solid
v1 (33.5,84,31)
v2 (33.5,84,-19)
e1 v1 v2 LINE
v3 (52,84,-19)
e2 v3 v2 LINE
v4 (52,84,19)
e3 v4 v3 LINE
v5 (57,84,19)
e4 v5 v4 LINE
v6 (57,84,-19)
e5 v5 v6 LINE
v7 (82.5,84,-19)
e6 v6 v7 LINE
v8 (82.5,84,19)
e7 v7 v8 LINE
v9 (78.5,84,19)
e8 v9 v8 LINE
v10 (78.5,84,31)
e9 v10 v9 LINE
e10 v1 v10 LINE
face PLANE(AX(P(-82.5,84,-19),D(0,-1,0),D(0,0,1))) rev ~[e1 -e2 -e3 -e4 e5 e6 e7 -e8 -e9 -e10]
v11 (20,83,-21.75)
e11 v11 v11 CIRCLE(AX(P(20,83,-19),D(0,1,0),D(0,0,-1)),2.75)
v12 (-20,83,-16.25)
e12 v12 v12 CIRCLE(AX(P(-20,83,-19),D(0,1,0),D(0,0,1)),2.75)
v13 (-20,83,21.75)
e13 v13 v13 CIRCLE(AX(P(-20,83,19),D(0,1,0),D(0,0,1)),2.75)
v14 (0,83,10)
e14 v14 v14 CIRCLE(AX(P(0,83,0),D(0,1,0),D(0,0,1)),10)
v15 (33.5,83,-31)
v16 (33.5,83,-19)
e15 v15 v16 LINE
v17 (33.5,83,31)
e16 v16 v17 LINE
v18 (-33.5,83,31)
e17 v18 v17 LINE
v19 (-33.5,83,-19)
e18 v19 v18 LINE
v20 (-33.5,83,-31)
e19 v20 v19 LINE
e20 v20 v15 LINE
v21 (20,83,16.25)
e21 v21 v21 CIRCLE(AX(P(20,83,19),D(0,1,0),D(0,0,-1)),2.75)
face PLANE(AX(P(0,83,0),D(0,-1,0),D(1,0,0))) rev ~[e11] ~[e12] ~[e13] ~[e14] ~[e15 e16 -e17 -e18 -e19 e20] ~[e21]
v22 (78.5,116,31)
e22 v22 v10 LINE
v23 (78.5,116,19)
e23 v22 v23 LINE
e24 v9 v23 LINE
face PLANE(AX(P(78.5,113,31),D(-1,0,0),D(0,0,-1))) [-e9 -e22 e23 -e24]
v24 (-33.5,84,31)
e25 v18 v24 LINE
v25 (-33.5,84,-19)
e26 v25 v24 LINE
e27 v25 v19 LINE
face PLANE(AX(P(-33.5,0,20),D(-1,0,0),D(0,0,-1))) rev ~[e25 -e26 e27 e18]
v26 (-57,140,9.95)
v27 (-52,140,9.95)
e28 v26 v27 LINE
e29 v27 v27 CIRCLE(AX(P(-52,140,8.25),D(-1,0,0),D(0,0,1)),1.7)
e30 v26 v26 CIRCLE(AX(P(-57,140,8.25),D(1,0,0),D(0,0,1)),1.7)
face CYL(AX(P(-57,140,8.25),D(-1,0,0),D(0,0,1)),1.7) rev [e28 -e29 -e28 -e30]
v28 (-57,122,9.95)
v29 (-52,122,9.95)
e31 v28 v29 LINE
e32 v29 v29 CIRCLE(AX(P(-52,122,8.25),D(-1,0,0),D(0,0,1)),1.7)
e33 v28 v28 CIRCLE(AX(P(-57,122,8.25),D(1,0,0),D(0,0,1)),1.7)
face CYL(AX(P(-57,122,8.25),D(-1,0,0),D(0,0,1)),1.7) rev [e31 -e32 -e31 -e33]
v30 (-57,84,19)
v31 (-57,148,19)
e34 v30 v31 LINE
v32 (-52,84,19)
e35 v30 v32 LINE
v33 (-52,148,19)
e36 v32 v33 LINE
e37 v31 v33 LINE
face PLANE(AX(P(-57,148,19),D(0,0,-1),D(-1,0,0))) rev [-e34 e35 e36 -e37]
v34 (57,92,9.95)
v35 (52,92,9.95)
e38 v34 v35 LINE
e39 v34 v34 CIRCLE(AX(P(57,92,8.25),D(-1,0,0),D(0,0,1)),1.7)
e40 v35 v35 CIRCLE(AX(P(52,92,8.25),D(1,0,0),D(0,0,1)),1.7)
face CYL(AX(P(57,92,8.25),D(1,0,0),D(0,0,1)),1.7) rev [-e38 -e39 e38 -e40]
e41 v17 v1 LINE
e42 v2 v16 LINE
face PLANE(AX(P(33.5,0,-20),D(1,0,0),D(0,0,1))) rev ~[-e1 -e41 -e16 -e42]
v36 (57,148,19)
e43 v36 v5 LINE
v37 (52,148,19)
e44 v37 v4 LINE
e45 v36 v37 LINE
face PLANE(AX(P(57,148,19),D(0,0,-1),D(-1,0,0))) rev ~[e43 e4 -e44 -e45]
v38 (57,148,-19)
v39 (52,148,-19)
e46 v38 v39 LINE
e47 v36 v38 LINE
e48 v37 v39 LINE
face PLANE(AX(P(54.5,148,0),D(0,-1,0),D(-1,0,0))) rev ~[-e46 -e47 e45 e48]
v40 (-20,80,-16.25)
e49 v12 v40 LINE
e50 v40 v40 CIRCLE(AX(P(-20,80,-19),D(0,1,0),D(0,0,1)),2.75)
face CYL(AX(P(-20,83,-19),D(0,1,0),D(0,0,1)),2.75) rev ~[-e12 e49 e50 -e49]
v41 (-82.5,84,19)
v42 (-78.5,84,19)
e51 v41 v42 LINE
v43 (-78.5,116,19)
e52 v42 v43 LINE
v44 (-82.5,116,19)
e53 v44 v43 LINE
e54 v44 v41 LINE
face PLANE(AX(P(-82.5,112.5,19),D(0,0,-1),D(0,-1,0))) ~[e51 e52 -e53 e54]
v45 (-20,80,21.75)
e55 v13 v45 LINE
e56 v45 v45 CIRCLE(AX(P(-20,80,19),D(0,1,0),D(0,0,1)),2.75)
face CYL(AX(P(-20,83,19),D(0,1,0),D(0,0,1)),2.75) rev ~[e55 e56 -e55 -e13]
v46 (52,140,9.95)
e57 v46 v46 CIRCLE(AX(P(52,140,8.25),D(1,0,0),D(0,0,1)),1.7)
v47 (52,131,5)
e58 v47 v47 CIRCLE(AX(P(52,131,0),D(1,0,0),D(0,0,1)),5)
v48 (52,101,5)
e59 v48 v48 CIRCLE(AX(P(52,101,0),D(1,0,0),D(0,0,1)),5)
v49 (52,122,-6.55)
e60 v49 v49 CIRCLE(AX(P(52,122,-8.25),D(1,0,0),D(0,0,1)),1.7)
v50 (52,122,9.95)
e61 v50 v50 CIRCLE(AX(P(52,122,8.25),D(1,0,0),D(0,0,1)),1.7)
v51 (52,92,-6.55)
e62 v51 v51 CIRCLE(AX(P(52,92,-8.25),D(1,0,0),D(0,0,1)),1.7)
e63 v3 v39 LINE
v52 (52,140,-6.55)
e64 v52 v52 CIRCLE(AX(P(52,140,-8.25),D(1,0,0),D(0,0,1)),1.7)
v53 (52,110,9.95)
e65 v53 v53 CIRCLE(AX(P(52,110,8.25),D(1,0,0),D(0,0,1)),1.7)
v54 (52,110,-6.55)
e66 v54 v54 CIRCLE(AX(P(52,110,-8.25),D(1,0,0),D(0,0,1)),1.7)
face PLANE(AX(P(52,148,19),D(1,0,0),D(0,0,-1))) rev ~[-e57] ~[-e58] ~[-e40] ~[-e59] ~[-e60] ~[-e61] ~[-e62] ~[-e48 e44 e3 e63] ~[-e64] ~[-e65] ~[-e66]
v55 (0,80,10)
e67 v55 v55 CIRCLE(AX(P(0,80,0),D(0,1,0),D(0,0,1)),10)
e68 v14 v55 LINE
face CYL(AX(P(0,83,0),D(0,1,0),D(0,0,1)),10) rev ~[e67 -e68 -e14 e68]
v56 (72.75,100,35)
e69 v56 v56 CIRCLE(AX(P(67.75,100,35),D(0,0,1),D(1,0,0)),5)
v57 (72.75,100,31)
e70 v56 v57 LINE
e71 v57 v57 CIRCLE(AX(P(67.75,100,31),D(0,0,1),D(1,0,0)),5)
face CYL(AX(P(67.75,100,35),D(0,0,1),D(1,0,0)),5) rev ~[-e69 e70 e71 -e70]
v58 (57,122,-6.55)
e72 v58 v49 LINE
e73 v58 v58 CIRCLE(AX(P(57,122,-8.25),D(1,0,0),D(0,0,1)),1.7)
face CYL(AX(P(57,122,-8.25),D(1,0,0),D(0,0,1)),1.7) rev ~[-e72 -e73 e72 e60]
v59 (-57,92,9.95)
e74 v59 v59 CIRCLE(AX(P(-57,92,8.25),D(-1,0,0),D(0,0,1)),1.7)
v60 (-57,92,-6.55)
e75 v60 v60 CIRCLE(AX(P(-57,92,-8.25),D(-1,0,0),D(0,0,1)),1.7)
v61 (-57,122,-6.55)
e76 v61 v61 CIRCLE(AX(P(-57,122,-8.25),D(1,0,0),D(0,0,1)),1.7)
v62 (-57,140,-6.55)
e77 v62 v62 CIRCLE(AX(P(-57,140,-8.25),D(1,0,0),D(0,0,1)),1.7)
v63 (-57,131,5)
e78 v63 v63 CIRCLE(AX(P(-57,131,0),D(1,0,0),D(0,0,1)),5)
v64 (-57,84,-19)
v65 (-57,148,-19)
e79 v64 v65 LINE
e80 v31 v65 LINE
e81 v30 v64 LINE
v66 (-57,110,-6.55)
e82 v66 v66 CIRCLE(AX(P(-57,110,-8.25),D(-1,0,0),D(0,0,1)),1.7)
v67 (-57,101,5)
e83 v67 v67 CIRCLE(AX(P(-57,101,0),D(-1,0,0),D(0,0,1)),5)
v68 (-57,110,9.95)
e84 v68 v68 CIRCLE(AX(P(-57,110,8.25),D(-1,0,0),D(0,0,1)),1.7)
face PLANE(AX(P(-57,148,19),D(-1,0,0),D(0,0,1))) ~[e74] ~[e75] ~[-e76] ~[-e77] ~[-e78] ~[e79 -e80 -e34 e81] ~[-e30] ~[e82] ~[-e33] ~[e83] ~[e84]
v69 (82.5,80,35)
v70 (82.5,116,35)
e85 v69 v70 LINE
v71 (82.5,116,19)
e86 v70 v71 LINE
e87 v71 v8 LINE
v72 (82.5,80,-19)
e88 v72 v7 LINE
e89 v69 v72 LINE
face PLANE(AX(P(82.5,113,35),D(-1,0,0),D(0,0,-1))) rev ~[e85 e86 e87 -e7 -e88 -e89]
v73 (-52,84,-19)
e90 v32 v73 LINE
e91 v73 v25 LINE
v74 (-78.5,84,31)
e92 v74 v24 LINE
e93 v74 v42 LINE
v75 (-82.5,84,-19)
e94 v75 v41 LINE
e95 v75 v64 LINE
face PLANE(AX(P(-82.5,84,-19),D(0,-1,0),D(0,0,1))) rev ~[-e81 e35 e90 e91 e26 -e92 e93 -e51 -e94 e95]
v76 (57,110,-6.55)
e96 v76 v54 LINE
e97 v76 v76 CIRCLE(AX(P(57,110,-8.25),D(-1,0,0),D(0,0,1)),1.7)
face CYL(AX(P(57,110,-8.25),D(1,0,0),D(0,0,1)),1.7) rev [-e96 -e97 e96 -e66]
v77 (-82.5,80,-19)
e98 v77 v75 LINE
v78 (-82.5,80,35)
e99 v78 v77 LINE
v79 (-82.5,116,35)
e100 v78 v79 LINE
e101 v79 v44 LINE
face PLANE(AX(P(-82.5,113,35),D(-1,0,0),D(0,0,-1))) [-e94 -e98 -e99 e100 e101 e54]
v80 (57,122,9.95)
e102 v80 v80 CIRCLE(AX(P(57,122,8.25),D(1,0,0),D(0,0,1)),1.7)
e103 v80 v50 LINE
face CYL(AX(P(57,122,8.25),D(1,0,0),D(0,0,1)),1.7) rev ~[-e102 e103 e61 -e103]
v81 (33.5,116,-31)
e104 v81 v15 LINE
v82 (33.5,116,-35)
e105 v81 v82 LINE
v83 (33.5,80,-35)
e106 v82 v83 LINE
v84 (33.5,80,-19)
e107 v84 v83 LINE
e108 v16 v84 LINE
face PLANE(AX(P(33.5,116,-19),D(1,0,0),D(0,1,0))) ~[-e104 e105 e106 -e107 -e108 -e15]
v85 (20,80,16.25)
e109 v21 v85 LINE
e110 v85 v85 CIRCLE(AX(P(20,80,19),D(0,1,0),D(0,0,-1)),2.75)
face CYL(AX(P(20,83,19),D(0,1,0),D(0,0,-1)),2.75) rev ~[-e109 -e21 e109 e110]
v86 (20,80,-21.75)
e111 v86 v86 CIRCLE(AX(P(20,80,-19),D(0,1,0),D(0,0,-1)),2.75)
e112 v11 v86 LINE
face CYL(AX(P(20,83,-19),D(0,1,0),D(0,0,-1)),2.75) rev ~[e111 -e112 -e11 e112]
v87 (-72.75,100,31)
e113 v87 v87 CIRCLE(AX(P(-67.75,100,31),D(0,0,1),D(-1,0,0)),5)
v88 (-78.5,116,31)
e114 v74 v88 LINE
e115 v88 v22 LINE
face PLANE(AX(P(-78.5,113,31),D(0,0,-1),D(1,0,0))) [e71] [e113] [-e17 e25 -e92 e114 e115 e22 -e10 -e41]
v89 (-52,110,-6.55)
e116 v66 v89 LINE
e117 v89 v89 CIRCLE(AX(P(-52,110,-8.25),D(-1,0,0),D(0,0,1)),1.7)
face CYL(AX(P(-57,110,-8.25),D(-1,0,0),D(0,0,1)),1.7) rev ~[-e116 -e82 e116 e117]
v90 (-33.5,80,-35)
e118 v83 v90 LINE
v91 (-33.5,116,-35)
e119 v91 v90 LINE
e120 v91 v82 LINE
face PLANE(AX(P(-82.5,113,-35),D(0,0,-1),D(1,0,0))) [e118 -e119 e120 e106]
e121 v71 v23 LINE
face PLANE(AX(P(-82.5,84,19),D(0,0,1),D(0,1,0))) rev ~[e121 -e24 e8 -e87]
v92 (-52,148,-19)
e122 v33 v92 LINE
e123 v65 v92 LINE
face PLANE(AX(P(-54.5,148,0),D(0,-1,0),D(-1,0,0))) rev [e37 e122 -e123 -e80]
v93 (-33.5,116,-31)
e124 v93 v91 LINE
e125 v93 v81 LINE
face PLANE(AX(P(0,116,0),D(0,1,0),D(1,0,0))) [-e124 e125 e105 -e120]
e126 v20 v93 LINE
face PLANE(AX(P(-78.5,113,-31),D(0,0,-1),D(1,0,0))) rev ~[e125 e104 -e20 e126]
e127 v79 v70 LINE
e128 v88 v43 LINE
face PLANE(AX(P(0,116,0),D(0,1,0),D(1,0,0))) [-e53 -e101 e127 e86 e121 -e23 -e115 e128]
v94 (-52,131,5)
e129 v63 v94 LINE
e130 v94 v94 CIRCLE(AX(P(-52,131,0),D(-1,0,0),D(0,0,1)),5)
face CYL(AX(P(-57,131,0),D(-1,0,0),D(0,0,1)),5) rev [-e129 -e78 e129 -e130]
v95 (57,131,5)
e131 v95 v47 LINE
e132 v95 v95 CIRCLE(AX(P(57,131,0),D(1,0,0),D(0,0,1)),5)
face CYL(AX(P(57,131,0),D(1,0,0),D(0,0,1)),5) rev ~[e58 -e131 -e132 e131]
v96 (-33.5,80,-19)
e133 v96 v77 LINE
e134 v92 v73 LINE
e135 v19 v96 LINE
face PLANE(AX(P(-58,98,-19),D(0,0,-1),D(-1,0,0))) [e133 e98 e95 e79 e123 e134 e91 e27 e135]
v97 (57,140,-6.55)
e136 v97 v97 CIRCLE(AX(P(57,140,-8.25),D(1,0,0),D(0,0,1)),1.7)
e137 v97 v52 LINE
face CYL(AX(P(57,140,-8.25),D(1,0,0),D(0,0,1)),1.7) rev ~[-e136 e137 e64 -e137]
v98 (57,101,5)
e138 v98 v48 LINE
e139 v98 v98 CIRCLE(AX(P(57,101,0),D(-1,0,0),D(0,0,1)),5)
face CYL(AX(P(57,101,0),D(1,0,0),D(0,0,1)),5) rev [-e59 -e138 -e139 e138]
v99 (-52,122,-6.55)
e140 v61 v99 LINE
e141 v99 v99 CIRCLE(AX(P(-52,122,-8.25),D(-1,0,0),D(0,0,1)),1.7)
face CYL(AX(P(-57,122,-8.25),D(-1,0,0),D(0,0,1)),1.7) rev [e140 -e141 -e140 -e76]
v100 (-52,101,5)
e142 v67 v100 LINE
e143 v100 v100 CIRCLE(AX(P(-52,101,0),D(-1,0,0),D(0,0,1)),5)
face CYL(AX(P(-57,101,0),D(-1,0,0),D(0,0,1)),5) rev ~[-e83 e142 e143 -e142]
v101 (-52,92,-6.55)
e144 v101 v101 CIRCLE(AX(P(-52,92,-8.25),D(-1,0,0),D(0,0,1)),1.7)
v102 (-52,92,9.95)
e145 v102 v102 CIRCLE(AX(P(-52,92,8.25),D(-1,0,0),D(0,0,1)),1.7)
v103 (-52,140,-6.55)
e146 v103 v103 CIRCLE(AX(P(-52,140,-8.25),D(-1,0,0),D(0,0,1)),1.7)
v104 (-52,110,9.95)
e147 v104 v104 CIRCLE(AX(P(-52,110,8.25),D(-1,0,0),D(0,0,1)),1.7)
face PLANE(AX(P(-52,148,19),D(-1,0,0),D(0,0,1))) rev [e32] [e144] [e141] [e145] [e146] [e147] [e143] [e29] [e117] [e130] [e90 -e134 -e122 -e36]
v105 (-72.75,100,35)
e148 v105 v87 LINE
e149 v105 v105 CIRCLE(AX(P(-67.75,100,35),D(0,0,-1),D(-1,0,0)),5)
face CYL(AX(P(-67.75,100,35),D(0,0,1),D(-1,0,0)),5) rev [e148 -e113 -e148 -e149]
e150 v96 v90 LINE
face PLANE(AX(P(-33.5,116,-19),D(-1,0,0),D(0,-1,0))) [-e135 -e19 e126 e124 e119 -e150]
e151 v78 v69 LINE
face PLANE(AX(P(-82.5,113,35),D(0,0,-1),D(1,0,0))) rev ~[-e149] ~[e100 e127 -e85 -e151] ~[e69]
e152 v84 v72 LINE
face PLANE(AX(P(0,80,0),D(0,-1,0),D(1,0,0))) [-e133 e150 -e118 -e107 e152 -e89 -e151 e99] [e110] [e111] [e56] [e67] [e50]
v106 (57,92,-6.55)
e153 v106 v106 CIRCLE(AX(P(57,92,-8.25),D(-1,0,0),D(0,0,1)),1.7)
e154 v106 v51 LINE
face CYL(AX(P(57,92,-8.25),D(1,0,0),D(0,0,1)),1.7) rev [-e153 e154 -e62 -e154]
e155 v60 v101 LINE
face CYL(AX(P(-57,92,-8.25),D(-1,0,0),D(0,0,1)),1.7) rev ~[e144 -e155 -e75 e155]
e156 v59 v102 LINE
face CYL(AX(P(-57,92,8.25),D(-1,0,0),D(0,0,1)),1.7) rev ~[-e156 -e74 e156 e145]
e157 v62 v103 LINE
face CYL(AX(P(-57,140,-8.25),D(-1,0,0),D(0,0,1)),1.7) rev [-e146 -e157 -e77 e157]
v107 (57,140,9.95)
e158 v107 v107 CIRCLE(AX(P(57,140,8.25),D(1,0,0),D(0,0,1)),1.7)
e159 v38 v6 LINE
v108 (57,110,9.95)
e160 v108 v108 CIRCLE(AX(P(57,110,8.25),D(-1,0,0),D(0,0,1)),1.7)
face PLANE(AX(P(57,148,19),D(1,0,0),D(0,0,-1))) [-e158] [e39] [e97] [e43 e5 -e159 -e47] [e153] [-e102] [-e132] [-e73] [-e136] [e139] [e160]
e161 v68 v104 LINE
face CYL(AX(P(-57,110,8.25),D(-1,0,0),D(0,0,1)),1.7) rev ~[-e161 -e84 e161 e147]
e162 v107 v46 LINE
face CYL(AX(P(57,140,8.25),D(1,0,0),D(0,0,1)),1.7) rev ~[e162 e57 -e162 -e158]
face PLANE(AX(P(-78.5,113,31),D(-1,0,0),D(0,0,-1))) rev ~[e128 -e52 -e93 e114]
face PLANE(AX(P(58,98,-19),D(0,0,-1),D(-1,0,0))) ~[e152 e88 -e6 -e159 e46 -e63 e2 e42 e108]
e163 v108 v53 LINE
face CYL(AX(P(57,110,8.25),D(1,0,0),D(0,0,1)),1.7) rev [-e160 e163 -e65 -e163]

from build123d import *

# Parameters (mm, degrees)
SKETCH1_W                 = 75
SKETCH1_H                 = 40
SKETCH1_R                 = 5
SKETCH1_R_2               = 1.7
SKETCH1_W_2               = 10
SKETCH1_H_2               = 20
BOSS_EXTRUDE1_DEPTH       = 3
CUT_EXTRUDE1_DEPTH        = 43.605750786
CUT_EXTRUDE1_DEPTH_BACK   = 43.605750786
SKETCH2_W                 = 67
SKETCH2_H                 = 28
BOSS_EXTRUDE3_DEPTH       = 110
BOSS_EXTRUDE3_DEPTH_BACK  = 3
SKETCH6_W                 = 67
SKETCH6_H                 = 11
CUT_EXTRUDE4_DEPTH        = 122.372360939
SKETCH7_W                 = 70
SKETCH7_H                 = 37
BOSS_EXTRUDE4_DEPTH       = 45
SKETCH8_W                 = 45
SKETCH8_H                 = 62
CUT_EXTRUDE6_DEPTH        = 29
SKETCH11_W                = 45
SKETCH11_H                = 4
CUT_EXTRUDE9_DEPTH        = 157.445677473
SKETCH9_W                 = 38
SKETCH9_H                 = 28.5
CUT_EXTRUDE10_DEPTH       = 204.024629048
SKETCH13_W                = 5
SKETCH13_H                = 38
BOSS_EXTRUDE5_DEPTH       = 32
SKETCH14_R                = 5
SKETCH14_R_2              = 1.7
CUT_EXTRUDE11_DEPTH       = 32
SKETCH15_W                = 165
SKETCH15_H                = 70
SKETCH15_W_2              = 157
SKETCH15_H_2              = 62
BOSS_EXTRUDE6_DEPTH       = 3
SKETCH16_W                = 20
SKETCH16_H                = 4.820648258
CUT_EXTRUDE12_DEPTH       = 159.626132778
SKETCH18_R                = 5
CUT_EXTRUDE14_DEPTH       = 159.626132778
MIRROR6_COPY_1_SKETCH_W   = 5
MIRROR6_COPY_1_SKETCH_H   = 38
MIRROR6_COPY_1_DEPTH      = 32
MIRROR6_COPY_2_SKETCH_R   = 5
MIRROR6_COPY_2_SKETCH_R_2 = 1.7
MIRROR6_COPY_2_DEPTH      = 32
SKETCH19_W                = 38
SKETCH19_H                = 3.5
CUT_EXTRUDE15_DEPTH       = 10
SKETCH20_R                = 1.2
CUT_EXTRUDE16_DEPTH       = 10
SKETCH21_W                = 10
SKETCH21_H                = 80
CUT_EXTRUDE17_DEPTH       = 184.330984833
SKETCH22_W                = 55
SKETCH22_H                = 80
CUT_EXTRUDE18_DEPTH       = 184.330984833
SKETCH23_W                = 67
SKETCH23_H                = 62
BOSS_EXTRUDE7_DEPTH       = 3
SKETCH24_R                = 10
SKETCH24_R_2              = 2.75
CUT_EXTRUDE19_DEPTH       = 111.707949127
CUT_EXTRUDE21_START       = -16
SKETCH25_R                = 5
CUT_EXTRUDE21_DEPTH       = 16


with BuildPart() as part:
    # Sketch1 → Boss-Extrude1 (new body)
    with BuildSketch(Plane(origin=(0, 0, 0), x_dir=(1, 0, 0), z_dir=(0, 1, 0))):
        Rectangle(SKETCH1_W, SKETCH1_H)
        with Locations(Location((-21, 0, 0), (0, 0, 270))):
            Circle(SKETCH1_R, mode=Mode.SUBTRACT)
        with Locations(Location((-30, 8.25, 0), (0, 0, 270))):
            Circle(SKETCH1_R_2, mode=Mode.SUBTRACT)
        with Locations(Location((-12, 8.25, 0), (0, 0, 270))):
            Circle(SKETCH1_R_2, mode=Mode.SUBTRACT)
        with Locations(Location((-12, -8.25, 0), (0, 0, 270))):
            Circle(SKETCH1_R_2, mode=Mode.SUBTRACT)
        with Locations(Location((-30, -8.25, 0), (0, 0, 270))):
            Circle(SKETCH1_R_2, mode=Mode.SUBTRACT)
        with Locations(Location((12, 8.25, 0), (0, 0, 90))):
            Circle(SKETCH1_R_2, mode=Mode.SUBTRACT)
        with Locations(Location((12, -8.25, 0), (0, 0, 90))):
            Circle(SKETCH1_R_2, mode=Mode.SUBTRACT)
        with Locations(Location((21, 0, 0), (0, 0, 90))):
            Circle(SKETCH1_R, mode=Mode.SUBTRACT)
        with Locations(Location((30, -8.25, 0), (0, 0, 90))):
            Circle(SKETCH1_R_2, mode=Mode.SUBTRACT)
        with Locations(Location((30, 8.25, 0), (0, 0, 90))):
            Circle(SKETCH1_R_2, mode=Mode.SUBTRACT)
        Rectangle(SKETCH1_W_2, SKETCH1_H_2, mode=Mode.SUBTRACT)
    extrude(amount=BOSS_EXTRUDE1_DEPTH)

    # Sketch2 → Cut-Extrude1 (cut, two sides: drawn at the far end of the back side and taken through both)
    with BuildSketch(Plane(origin=(0, 3, 0), x_dir=(1, 0, 0), z_dir=(0, 1, 0)).offset(-CUT_EXTRUDE1_DEPTH_BACK)):
        Rectangle(SKETCH2_W, SKETCH2_H)
    extrude(amount=CUT_EXTRUDE1_DEPTH + CUT_EXTRUDE1_DEPTH_BACK, mode=Mode.SUBTRACT)

    # Sketch3 → Boss-Extrude3 (add, two sides: drawn at the far end of the back side and taken through both)
    with BuildSketch(Plane(origin=(0, 3, 0), x_dir=(1, 0, 0), z_dir=(0, 1, 0)).offset(-BOSS_EXTRUDE3_DEPTH_BACK)):
        Polygon((37.5, -35), (37.5, -20), (33.5, -20), (-33.5, -20), (-37.5, -20), (-37.5, -35), align=None)
        Polygon((33.5, 20), (37.5, 20), (37.5, 35), (-37.5, 35), (-37.5, 20), (-33.5, 20), align=None)
        Polygon((37.5, -20), (37.5, 20), (33.5, 20), (33.5, 14), (33.5, -14), (33.5, -20), align=None)
        Polygon((-33.5, 14), (-33.5, 20), (-37.5, 20), (-37.5, -20), (-33.5, -20), (-33.5, -14), align=None)
    extrude(amount=BOSS_EXTRUDE3_DEPTH + BOSS_EXTRUDE3_DEPTH_BACK)

    # Sketch6 → Cut-Extrude4 (cut, through all)
    with BuildSketch(Plane(origin=(0, 3, 0), x_dir=(1, 0, 0), z_dir=(0, 1, 0))):
        with Locations((0, -25.5)):
            Rectangle(SKETCH6_W, SKETCH6_H)
        with Locations((0, 25.5)):
            Rectangle(SKETCH6_W, SKETCH6_H)
    extrude(amount=CUT_EXTRUDE4_DEPTH, mode=Mode.SUBTRACT)

    # Sketch7 → Boss-Extrude4 (add)
    with BuildSketch(Plane.ZY.offset(37.5)):
        with Locations((0, 94.5)):
            Rectangle(SKETCH7_W, SKETCH7_H)
    boss_extrude4 = extrude(amount=BOSS_EXTRUDE4_DEPTH)

    # Mirror2: Boss-Extrude4 across plane
    add(boss_extrude4.mirror(Plane(origin=(0, 0, 0), x_dir=(0, 0, 1), z_dir=(1, 0, 0))))

    # Sketch8 → Cut-Extrude6 (cut)
    with BuildSketch(Plane(origin=(0, 113, 0), x_dir=(1, 0, 0), z_dir=(0, 1, 0))):
        with Locations((-56, 0)):
            Rectangle(SKETCH8_W, SKETCH8_H)
        with Locations((56, 0)):
            Rectangle(SKETCH8_W, SKETCH8_H)
    extrude(amount=-CUT_EXTRUDE6_DEPTH, mode=Mode.SUBTRACT)

    # Sketch11 → Cut-Extrude9 (cut, through all)
    with BuildSketch(Plane.XY.offset(35)):
        with Locations((-60, 78)):
            Rectangle(SKETCH11_W, SKETCH11_H)
        with Locations((60, 78)):
            Rectangle(SKETCH11_W, SKETCH11_H)
    extrude(amount=-CUT_EXTRUDE9_DEPTH, mode=Mode.SUBTRACT)

    # Sketch9 → Cut-Extrude10 (cut, through all)
    with BuildSketch(Plane.ZY.offset(82.5)):
        with Locations((0, 98.25)):
            Rectangle(SKETCH9_W, SKETCH9_H)
    extrude(amount=-CUT_EXTRUDE10_DEPTH, mode=Mode.SUBTRACT)

    # Sketch13 → Boss-Extrude5 (add)
    with BuildSketch(Plane(origin=(0, 84, 0), x_dir=(1, 0, 0), z_dir=(0, 1, 0))):
        with Locations((-54.5, 0)):
            Rectangle(SKETCH13_W, SKETCH13_H)
    boss_extrude5 = extrude(amount=BOSS_EXTRUDE5_DEPTH)

    # Sketch14 → Cut-Extrude11 (cut)
    with BuildSketch(Plane.ZY.offset(57)):
        with Locations((0, 101)):
            Circle(SKETCH14_R)
        with Locations((-8.25, 110)):
            Circle(SKETCH14_R_2)
        with Locations((8.25, 110)):
            Circle(SKETCH14_R_2)
        with Locations((8.25, 92)):
            Circle(SKETCH14_R_2)
        with Locations((-8.25, 92)):
            Circle(SKETCH14_R_2)
    cut_extrude11 = extrude(amount=-CUT_EXTRUDE11_DEPTH, mode=Mode.SUBTRACT)

    # Mirror4: Boss-Extrude5, Cut-Extrude11 across plane
    add(boss_extrude5.mirror(Plane(origin=(0, 0, 0), x_dir=(0, 0, 1), z_dir=(1, 0, 0))))
    add(cut_extrude11.mirror(Plane(origin=(0, 0, 0), x_dir=(0, 0, 1), z_dir=(1, 0, 0))), mode=Mode.SUBTRACT)

    # Sketch15 → Boss-Extrude6 (add)
    with BuildSketch(Plane(origin=(0, 113, 0), x_dir=(1, 0, 0), z_dir=(0, 1, 0))):
        Rectangle(SKETCH15_W, SKETCH15_H)
        Rectangle(SKETCH15_W_2, SKETCH15_H_2, mode=Mode.SUBTRACT)
    extrude(amount=BOSS_EXTRUDE6_DEPTH)

    # Sketch16 → Cut-Extrude12 (cut, through all)
    with BuildSketch(Plane.XY.offset(35)):
        with Locations((0, 11.636111214)):
            Rectangle(SKETCH16_W, SKETCH16_H)
    extrude(amount=-CUT_EXTRUDE12_DEPTH, mode=Mode.SUBTRACT)

    # Sketch18 → Cut-Extrude14 (cut, through all)
    with BuildSketch(Plane.XY.offset(35)):
        with Locations((67.75, 100)):
            Circle(SKETCH18_R)
    cut_extrude14 = extrude(amount=-CUT_EXTRUDE14_DEPTH, mode=Mode.SUBTRACT)

    # Mirror5: Cut-Extrude14 across plane
    add(cut_extrude14.mirror(Plane(origin=(0, 0, 0), x_dir=(0, 0, 1), z_dir=(1, 0, 0))), mode=Mode.SUBTRACT)

    # Mirror6: Boss-Extrude5, Cut-Extrude11 across plane
    add(boss_extrude5.mirror(Plane.ZX.offset(116)))
    add(cut_extrude11.mirror(Plane.ZX.offset(116)), mode=Mode.SUBTRACT)

    # Mirror6 copy 1 sketch → Mirror6 copy 1 (add)
    with BuildSketch(Plane(origin=(0, 148, 0), x_dir=(-1, 0, 0), z_dir=(0, -1, 0))):
        with Locations((-54.5, 0)):
            Rectangle(MIRROR6_COPY_1_SKETCH_W, MIRROR6_COPY_1_SKETCH_H)
    extrude(amount=MIRROR6_COPY_1_DEPTH)

    # Mirror6 copy 2 sketch → Mirror6 copy 2 (cut)
    with BuildSketch(Plane(origin=(57, 232, 0), x_dir=(0, 0, 1), z_dir=(1, 0, 0))):
        with Locations((0, 101)):
            Circle(MIRROR6_COPY_2_SKETCH_R)
        with Locations((-8.25, 110)):
            Circle(MIRROR6_COPY_2_SKETCH_R_2)
        with Locations((8.25, 110)):
            Circle(MIRROR6_COPY_2_SKETCH_R_2)
        with Locations((8.25, 92)):
            Circle(MIRROR6_COPY_2_SKETCH_R_2)
        with Locations((-8.25, 92)):
            Circle(MIRROR6_COPY_2_SKETCH_R_2)
    extrude(amount=-MIRROR6_COPY_2_DEPTH, mode=Mode.SUBTRACT)

    # Sketch19 → Cut-Extrude15 (cut)
    with BuildSketch(Plane(origin=(82.5, 0, 0), x_dir=(0, 0, -1), z_dir=(1, 0, 0))):
        with Locations((0, 114.25)):
            Rectangle(SKETCH19_W, SKETCH19_H)
    cut_extrude15 = extrude(amount=-CUT_EXTRUDE15_DEPTH, mode=Mode.SUBTRACT)

    # Mirror7: Cut-Extrude15 across plane
    add(cut_extrude15.mirror(Plane(origin=(0, 0, 0), x_dir=(0, 0, 1), z_dir=(1, 0, 0))), mode=Mode.SUBTRACT)

    # Sketch20 → Cut-Extrude16 (cut)
    with BuildSketch(Plane(origin=(0, 3, 0), x_dir=(1, 0, 0), z_dir=(0, 1, 0))):
        with Locations(Location((-24, 17.5, 0), (0, 0, 270))):
            Circle(SKETCH20_R)
        with Locations(Location((-12, 17.5, 0), (0, 0, 270))):
            Circle(SKETCH20_R)
        with Locations(Location((12, 17.5, 0), (0, 0, 270))):
            Circle(SKETCH20_R)
        with Locations(Location((-24, -17.5, 0), (0, 0, 270))):
            Circle(SKETCH20_R)
        with Locations(Location((-12, -17.5, 0), (0, 0, 270))):
            Circle(SKETCH20_R)
        with Locations(Location((24, 17.5, 0), (0, 0, 270))):
            Circle(SKETCH20_R)
        with Locations(Location((12, -17.5, 0), (0, 0, 270))):
            Circle(SKETCH20_R)
        with Locations(Location((24, -17.5, 0), (0, 0, 270))):
            Circle(SKETCH20_R)
    extrude(amount=-CUT_EXTRUDE16_DEPTH, mode=Mode.SUBTRACT)

    # Sketch21 → Cut-Extrude17 (cut, through all)
    with BuildSketch(Plane.XY.offset(35)):
        with Locations((32.5, 40)):
            Rectangle(SKETCH21_W, SKETCH21_H)
        with Locations((-32.5, 40)):
            Rectangle(SKETCH21_W, SKETCH21_H)
    extrude(amount=-CUT_EXTRUDE17_DEPTH, mode=Mode.SUBTRACT)

    # Sketch22 → Cut-Extrude18 (cut, through all)
    with BuildSketch(Plane.XY.offset(35)):
        with Locations((0, 40)):
            Rectangle(SKETCH22_W, SKETCH22_H)
    extrude(amount=-CUT_EXTRUDE18_DEPTH, mode=Mode.SUBTRACT)

    # Sketch23 → Boss-Extrude7 (add)
    with BuildSketch(Plane.XZ.offset(-80)):
        Rectangle(SKETCH23_W, SKETCH23_H)
    extrude(amount=-BOSS_EXTRUDE7_DEPTH)

    # Sketch24 → Cut-Extrude19 (cut, through all)
    with BuildSketch(Plane(origin=(0, 83, 0), x_dir=(1, 0, 0), z_dir=(0, 1, 0))):
        with Locations(Location((0, 0, 0), (0, 0, 270))):
            Circle(SKETCH24_R)
        with Locations(Location((-20, 19, 0), (0, 0, 270))):
            Circle(SKETCH24_R_2)
        with Locations(Location((-20, -19, 0), (0, 0, 270))):
            Circle(SKETCH24_R_2)
        with Locations(Location((20, -19, 0), (0, 0, 90))):
            Circle(SKETCH24_R_2)
        with Locations(Location((20, 19, 0), (0, 0, 90))):
            Circle(SKETCH24_R_2)
    extrude(amount=-CUT_EXTRUDE19_DEPTH, mode=Mode.SUBTRACT)

    # Sketch25 → Cut-Extrude21 (cut)
    with BuildSketch(Plane(origin=(0, 0, -35), x_dir=(-1, 0, 0), z_dir=(0, 0, -1)).offset(CUT_EXTRUDE21_START)):
        Polygon((33.5, 116), (33.5, 84), (33.5, 80), (82.5, 80), (82.5, 116), align=None)
        with Locations((67.75, 100)):
            Circle(SKETCH25_R, mode=Mode.SUBTRACT)
    cut_extrude21 = extrude(amount=CUT_EXTRUDE21_DEPTH, mode=Mode.SUBTRACT)

    # Mirror8: Cut-Extrude21 across plane
    add(cut_extrude21.mirror(Plane(origin=(0, 0, 0), x_dir=(0, 0, 1), z_dir=(1, 0, 0))), mode=Mode.SUBTRACT)


solid = part.part
